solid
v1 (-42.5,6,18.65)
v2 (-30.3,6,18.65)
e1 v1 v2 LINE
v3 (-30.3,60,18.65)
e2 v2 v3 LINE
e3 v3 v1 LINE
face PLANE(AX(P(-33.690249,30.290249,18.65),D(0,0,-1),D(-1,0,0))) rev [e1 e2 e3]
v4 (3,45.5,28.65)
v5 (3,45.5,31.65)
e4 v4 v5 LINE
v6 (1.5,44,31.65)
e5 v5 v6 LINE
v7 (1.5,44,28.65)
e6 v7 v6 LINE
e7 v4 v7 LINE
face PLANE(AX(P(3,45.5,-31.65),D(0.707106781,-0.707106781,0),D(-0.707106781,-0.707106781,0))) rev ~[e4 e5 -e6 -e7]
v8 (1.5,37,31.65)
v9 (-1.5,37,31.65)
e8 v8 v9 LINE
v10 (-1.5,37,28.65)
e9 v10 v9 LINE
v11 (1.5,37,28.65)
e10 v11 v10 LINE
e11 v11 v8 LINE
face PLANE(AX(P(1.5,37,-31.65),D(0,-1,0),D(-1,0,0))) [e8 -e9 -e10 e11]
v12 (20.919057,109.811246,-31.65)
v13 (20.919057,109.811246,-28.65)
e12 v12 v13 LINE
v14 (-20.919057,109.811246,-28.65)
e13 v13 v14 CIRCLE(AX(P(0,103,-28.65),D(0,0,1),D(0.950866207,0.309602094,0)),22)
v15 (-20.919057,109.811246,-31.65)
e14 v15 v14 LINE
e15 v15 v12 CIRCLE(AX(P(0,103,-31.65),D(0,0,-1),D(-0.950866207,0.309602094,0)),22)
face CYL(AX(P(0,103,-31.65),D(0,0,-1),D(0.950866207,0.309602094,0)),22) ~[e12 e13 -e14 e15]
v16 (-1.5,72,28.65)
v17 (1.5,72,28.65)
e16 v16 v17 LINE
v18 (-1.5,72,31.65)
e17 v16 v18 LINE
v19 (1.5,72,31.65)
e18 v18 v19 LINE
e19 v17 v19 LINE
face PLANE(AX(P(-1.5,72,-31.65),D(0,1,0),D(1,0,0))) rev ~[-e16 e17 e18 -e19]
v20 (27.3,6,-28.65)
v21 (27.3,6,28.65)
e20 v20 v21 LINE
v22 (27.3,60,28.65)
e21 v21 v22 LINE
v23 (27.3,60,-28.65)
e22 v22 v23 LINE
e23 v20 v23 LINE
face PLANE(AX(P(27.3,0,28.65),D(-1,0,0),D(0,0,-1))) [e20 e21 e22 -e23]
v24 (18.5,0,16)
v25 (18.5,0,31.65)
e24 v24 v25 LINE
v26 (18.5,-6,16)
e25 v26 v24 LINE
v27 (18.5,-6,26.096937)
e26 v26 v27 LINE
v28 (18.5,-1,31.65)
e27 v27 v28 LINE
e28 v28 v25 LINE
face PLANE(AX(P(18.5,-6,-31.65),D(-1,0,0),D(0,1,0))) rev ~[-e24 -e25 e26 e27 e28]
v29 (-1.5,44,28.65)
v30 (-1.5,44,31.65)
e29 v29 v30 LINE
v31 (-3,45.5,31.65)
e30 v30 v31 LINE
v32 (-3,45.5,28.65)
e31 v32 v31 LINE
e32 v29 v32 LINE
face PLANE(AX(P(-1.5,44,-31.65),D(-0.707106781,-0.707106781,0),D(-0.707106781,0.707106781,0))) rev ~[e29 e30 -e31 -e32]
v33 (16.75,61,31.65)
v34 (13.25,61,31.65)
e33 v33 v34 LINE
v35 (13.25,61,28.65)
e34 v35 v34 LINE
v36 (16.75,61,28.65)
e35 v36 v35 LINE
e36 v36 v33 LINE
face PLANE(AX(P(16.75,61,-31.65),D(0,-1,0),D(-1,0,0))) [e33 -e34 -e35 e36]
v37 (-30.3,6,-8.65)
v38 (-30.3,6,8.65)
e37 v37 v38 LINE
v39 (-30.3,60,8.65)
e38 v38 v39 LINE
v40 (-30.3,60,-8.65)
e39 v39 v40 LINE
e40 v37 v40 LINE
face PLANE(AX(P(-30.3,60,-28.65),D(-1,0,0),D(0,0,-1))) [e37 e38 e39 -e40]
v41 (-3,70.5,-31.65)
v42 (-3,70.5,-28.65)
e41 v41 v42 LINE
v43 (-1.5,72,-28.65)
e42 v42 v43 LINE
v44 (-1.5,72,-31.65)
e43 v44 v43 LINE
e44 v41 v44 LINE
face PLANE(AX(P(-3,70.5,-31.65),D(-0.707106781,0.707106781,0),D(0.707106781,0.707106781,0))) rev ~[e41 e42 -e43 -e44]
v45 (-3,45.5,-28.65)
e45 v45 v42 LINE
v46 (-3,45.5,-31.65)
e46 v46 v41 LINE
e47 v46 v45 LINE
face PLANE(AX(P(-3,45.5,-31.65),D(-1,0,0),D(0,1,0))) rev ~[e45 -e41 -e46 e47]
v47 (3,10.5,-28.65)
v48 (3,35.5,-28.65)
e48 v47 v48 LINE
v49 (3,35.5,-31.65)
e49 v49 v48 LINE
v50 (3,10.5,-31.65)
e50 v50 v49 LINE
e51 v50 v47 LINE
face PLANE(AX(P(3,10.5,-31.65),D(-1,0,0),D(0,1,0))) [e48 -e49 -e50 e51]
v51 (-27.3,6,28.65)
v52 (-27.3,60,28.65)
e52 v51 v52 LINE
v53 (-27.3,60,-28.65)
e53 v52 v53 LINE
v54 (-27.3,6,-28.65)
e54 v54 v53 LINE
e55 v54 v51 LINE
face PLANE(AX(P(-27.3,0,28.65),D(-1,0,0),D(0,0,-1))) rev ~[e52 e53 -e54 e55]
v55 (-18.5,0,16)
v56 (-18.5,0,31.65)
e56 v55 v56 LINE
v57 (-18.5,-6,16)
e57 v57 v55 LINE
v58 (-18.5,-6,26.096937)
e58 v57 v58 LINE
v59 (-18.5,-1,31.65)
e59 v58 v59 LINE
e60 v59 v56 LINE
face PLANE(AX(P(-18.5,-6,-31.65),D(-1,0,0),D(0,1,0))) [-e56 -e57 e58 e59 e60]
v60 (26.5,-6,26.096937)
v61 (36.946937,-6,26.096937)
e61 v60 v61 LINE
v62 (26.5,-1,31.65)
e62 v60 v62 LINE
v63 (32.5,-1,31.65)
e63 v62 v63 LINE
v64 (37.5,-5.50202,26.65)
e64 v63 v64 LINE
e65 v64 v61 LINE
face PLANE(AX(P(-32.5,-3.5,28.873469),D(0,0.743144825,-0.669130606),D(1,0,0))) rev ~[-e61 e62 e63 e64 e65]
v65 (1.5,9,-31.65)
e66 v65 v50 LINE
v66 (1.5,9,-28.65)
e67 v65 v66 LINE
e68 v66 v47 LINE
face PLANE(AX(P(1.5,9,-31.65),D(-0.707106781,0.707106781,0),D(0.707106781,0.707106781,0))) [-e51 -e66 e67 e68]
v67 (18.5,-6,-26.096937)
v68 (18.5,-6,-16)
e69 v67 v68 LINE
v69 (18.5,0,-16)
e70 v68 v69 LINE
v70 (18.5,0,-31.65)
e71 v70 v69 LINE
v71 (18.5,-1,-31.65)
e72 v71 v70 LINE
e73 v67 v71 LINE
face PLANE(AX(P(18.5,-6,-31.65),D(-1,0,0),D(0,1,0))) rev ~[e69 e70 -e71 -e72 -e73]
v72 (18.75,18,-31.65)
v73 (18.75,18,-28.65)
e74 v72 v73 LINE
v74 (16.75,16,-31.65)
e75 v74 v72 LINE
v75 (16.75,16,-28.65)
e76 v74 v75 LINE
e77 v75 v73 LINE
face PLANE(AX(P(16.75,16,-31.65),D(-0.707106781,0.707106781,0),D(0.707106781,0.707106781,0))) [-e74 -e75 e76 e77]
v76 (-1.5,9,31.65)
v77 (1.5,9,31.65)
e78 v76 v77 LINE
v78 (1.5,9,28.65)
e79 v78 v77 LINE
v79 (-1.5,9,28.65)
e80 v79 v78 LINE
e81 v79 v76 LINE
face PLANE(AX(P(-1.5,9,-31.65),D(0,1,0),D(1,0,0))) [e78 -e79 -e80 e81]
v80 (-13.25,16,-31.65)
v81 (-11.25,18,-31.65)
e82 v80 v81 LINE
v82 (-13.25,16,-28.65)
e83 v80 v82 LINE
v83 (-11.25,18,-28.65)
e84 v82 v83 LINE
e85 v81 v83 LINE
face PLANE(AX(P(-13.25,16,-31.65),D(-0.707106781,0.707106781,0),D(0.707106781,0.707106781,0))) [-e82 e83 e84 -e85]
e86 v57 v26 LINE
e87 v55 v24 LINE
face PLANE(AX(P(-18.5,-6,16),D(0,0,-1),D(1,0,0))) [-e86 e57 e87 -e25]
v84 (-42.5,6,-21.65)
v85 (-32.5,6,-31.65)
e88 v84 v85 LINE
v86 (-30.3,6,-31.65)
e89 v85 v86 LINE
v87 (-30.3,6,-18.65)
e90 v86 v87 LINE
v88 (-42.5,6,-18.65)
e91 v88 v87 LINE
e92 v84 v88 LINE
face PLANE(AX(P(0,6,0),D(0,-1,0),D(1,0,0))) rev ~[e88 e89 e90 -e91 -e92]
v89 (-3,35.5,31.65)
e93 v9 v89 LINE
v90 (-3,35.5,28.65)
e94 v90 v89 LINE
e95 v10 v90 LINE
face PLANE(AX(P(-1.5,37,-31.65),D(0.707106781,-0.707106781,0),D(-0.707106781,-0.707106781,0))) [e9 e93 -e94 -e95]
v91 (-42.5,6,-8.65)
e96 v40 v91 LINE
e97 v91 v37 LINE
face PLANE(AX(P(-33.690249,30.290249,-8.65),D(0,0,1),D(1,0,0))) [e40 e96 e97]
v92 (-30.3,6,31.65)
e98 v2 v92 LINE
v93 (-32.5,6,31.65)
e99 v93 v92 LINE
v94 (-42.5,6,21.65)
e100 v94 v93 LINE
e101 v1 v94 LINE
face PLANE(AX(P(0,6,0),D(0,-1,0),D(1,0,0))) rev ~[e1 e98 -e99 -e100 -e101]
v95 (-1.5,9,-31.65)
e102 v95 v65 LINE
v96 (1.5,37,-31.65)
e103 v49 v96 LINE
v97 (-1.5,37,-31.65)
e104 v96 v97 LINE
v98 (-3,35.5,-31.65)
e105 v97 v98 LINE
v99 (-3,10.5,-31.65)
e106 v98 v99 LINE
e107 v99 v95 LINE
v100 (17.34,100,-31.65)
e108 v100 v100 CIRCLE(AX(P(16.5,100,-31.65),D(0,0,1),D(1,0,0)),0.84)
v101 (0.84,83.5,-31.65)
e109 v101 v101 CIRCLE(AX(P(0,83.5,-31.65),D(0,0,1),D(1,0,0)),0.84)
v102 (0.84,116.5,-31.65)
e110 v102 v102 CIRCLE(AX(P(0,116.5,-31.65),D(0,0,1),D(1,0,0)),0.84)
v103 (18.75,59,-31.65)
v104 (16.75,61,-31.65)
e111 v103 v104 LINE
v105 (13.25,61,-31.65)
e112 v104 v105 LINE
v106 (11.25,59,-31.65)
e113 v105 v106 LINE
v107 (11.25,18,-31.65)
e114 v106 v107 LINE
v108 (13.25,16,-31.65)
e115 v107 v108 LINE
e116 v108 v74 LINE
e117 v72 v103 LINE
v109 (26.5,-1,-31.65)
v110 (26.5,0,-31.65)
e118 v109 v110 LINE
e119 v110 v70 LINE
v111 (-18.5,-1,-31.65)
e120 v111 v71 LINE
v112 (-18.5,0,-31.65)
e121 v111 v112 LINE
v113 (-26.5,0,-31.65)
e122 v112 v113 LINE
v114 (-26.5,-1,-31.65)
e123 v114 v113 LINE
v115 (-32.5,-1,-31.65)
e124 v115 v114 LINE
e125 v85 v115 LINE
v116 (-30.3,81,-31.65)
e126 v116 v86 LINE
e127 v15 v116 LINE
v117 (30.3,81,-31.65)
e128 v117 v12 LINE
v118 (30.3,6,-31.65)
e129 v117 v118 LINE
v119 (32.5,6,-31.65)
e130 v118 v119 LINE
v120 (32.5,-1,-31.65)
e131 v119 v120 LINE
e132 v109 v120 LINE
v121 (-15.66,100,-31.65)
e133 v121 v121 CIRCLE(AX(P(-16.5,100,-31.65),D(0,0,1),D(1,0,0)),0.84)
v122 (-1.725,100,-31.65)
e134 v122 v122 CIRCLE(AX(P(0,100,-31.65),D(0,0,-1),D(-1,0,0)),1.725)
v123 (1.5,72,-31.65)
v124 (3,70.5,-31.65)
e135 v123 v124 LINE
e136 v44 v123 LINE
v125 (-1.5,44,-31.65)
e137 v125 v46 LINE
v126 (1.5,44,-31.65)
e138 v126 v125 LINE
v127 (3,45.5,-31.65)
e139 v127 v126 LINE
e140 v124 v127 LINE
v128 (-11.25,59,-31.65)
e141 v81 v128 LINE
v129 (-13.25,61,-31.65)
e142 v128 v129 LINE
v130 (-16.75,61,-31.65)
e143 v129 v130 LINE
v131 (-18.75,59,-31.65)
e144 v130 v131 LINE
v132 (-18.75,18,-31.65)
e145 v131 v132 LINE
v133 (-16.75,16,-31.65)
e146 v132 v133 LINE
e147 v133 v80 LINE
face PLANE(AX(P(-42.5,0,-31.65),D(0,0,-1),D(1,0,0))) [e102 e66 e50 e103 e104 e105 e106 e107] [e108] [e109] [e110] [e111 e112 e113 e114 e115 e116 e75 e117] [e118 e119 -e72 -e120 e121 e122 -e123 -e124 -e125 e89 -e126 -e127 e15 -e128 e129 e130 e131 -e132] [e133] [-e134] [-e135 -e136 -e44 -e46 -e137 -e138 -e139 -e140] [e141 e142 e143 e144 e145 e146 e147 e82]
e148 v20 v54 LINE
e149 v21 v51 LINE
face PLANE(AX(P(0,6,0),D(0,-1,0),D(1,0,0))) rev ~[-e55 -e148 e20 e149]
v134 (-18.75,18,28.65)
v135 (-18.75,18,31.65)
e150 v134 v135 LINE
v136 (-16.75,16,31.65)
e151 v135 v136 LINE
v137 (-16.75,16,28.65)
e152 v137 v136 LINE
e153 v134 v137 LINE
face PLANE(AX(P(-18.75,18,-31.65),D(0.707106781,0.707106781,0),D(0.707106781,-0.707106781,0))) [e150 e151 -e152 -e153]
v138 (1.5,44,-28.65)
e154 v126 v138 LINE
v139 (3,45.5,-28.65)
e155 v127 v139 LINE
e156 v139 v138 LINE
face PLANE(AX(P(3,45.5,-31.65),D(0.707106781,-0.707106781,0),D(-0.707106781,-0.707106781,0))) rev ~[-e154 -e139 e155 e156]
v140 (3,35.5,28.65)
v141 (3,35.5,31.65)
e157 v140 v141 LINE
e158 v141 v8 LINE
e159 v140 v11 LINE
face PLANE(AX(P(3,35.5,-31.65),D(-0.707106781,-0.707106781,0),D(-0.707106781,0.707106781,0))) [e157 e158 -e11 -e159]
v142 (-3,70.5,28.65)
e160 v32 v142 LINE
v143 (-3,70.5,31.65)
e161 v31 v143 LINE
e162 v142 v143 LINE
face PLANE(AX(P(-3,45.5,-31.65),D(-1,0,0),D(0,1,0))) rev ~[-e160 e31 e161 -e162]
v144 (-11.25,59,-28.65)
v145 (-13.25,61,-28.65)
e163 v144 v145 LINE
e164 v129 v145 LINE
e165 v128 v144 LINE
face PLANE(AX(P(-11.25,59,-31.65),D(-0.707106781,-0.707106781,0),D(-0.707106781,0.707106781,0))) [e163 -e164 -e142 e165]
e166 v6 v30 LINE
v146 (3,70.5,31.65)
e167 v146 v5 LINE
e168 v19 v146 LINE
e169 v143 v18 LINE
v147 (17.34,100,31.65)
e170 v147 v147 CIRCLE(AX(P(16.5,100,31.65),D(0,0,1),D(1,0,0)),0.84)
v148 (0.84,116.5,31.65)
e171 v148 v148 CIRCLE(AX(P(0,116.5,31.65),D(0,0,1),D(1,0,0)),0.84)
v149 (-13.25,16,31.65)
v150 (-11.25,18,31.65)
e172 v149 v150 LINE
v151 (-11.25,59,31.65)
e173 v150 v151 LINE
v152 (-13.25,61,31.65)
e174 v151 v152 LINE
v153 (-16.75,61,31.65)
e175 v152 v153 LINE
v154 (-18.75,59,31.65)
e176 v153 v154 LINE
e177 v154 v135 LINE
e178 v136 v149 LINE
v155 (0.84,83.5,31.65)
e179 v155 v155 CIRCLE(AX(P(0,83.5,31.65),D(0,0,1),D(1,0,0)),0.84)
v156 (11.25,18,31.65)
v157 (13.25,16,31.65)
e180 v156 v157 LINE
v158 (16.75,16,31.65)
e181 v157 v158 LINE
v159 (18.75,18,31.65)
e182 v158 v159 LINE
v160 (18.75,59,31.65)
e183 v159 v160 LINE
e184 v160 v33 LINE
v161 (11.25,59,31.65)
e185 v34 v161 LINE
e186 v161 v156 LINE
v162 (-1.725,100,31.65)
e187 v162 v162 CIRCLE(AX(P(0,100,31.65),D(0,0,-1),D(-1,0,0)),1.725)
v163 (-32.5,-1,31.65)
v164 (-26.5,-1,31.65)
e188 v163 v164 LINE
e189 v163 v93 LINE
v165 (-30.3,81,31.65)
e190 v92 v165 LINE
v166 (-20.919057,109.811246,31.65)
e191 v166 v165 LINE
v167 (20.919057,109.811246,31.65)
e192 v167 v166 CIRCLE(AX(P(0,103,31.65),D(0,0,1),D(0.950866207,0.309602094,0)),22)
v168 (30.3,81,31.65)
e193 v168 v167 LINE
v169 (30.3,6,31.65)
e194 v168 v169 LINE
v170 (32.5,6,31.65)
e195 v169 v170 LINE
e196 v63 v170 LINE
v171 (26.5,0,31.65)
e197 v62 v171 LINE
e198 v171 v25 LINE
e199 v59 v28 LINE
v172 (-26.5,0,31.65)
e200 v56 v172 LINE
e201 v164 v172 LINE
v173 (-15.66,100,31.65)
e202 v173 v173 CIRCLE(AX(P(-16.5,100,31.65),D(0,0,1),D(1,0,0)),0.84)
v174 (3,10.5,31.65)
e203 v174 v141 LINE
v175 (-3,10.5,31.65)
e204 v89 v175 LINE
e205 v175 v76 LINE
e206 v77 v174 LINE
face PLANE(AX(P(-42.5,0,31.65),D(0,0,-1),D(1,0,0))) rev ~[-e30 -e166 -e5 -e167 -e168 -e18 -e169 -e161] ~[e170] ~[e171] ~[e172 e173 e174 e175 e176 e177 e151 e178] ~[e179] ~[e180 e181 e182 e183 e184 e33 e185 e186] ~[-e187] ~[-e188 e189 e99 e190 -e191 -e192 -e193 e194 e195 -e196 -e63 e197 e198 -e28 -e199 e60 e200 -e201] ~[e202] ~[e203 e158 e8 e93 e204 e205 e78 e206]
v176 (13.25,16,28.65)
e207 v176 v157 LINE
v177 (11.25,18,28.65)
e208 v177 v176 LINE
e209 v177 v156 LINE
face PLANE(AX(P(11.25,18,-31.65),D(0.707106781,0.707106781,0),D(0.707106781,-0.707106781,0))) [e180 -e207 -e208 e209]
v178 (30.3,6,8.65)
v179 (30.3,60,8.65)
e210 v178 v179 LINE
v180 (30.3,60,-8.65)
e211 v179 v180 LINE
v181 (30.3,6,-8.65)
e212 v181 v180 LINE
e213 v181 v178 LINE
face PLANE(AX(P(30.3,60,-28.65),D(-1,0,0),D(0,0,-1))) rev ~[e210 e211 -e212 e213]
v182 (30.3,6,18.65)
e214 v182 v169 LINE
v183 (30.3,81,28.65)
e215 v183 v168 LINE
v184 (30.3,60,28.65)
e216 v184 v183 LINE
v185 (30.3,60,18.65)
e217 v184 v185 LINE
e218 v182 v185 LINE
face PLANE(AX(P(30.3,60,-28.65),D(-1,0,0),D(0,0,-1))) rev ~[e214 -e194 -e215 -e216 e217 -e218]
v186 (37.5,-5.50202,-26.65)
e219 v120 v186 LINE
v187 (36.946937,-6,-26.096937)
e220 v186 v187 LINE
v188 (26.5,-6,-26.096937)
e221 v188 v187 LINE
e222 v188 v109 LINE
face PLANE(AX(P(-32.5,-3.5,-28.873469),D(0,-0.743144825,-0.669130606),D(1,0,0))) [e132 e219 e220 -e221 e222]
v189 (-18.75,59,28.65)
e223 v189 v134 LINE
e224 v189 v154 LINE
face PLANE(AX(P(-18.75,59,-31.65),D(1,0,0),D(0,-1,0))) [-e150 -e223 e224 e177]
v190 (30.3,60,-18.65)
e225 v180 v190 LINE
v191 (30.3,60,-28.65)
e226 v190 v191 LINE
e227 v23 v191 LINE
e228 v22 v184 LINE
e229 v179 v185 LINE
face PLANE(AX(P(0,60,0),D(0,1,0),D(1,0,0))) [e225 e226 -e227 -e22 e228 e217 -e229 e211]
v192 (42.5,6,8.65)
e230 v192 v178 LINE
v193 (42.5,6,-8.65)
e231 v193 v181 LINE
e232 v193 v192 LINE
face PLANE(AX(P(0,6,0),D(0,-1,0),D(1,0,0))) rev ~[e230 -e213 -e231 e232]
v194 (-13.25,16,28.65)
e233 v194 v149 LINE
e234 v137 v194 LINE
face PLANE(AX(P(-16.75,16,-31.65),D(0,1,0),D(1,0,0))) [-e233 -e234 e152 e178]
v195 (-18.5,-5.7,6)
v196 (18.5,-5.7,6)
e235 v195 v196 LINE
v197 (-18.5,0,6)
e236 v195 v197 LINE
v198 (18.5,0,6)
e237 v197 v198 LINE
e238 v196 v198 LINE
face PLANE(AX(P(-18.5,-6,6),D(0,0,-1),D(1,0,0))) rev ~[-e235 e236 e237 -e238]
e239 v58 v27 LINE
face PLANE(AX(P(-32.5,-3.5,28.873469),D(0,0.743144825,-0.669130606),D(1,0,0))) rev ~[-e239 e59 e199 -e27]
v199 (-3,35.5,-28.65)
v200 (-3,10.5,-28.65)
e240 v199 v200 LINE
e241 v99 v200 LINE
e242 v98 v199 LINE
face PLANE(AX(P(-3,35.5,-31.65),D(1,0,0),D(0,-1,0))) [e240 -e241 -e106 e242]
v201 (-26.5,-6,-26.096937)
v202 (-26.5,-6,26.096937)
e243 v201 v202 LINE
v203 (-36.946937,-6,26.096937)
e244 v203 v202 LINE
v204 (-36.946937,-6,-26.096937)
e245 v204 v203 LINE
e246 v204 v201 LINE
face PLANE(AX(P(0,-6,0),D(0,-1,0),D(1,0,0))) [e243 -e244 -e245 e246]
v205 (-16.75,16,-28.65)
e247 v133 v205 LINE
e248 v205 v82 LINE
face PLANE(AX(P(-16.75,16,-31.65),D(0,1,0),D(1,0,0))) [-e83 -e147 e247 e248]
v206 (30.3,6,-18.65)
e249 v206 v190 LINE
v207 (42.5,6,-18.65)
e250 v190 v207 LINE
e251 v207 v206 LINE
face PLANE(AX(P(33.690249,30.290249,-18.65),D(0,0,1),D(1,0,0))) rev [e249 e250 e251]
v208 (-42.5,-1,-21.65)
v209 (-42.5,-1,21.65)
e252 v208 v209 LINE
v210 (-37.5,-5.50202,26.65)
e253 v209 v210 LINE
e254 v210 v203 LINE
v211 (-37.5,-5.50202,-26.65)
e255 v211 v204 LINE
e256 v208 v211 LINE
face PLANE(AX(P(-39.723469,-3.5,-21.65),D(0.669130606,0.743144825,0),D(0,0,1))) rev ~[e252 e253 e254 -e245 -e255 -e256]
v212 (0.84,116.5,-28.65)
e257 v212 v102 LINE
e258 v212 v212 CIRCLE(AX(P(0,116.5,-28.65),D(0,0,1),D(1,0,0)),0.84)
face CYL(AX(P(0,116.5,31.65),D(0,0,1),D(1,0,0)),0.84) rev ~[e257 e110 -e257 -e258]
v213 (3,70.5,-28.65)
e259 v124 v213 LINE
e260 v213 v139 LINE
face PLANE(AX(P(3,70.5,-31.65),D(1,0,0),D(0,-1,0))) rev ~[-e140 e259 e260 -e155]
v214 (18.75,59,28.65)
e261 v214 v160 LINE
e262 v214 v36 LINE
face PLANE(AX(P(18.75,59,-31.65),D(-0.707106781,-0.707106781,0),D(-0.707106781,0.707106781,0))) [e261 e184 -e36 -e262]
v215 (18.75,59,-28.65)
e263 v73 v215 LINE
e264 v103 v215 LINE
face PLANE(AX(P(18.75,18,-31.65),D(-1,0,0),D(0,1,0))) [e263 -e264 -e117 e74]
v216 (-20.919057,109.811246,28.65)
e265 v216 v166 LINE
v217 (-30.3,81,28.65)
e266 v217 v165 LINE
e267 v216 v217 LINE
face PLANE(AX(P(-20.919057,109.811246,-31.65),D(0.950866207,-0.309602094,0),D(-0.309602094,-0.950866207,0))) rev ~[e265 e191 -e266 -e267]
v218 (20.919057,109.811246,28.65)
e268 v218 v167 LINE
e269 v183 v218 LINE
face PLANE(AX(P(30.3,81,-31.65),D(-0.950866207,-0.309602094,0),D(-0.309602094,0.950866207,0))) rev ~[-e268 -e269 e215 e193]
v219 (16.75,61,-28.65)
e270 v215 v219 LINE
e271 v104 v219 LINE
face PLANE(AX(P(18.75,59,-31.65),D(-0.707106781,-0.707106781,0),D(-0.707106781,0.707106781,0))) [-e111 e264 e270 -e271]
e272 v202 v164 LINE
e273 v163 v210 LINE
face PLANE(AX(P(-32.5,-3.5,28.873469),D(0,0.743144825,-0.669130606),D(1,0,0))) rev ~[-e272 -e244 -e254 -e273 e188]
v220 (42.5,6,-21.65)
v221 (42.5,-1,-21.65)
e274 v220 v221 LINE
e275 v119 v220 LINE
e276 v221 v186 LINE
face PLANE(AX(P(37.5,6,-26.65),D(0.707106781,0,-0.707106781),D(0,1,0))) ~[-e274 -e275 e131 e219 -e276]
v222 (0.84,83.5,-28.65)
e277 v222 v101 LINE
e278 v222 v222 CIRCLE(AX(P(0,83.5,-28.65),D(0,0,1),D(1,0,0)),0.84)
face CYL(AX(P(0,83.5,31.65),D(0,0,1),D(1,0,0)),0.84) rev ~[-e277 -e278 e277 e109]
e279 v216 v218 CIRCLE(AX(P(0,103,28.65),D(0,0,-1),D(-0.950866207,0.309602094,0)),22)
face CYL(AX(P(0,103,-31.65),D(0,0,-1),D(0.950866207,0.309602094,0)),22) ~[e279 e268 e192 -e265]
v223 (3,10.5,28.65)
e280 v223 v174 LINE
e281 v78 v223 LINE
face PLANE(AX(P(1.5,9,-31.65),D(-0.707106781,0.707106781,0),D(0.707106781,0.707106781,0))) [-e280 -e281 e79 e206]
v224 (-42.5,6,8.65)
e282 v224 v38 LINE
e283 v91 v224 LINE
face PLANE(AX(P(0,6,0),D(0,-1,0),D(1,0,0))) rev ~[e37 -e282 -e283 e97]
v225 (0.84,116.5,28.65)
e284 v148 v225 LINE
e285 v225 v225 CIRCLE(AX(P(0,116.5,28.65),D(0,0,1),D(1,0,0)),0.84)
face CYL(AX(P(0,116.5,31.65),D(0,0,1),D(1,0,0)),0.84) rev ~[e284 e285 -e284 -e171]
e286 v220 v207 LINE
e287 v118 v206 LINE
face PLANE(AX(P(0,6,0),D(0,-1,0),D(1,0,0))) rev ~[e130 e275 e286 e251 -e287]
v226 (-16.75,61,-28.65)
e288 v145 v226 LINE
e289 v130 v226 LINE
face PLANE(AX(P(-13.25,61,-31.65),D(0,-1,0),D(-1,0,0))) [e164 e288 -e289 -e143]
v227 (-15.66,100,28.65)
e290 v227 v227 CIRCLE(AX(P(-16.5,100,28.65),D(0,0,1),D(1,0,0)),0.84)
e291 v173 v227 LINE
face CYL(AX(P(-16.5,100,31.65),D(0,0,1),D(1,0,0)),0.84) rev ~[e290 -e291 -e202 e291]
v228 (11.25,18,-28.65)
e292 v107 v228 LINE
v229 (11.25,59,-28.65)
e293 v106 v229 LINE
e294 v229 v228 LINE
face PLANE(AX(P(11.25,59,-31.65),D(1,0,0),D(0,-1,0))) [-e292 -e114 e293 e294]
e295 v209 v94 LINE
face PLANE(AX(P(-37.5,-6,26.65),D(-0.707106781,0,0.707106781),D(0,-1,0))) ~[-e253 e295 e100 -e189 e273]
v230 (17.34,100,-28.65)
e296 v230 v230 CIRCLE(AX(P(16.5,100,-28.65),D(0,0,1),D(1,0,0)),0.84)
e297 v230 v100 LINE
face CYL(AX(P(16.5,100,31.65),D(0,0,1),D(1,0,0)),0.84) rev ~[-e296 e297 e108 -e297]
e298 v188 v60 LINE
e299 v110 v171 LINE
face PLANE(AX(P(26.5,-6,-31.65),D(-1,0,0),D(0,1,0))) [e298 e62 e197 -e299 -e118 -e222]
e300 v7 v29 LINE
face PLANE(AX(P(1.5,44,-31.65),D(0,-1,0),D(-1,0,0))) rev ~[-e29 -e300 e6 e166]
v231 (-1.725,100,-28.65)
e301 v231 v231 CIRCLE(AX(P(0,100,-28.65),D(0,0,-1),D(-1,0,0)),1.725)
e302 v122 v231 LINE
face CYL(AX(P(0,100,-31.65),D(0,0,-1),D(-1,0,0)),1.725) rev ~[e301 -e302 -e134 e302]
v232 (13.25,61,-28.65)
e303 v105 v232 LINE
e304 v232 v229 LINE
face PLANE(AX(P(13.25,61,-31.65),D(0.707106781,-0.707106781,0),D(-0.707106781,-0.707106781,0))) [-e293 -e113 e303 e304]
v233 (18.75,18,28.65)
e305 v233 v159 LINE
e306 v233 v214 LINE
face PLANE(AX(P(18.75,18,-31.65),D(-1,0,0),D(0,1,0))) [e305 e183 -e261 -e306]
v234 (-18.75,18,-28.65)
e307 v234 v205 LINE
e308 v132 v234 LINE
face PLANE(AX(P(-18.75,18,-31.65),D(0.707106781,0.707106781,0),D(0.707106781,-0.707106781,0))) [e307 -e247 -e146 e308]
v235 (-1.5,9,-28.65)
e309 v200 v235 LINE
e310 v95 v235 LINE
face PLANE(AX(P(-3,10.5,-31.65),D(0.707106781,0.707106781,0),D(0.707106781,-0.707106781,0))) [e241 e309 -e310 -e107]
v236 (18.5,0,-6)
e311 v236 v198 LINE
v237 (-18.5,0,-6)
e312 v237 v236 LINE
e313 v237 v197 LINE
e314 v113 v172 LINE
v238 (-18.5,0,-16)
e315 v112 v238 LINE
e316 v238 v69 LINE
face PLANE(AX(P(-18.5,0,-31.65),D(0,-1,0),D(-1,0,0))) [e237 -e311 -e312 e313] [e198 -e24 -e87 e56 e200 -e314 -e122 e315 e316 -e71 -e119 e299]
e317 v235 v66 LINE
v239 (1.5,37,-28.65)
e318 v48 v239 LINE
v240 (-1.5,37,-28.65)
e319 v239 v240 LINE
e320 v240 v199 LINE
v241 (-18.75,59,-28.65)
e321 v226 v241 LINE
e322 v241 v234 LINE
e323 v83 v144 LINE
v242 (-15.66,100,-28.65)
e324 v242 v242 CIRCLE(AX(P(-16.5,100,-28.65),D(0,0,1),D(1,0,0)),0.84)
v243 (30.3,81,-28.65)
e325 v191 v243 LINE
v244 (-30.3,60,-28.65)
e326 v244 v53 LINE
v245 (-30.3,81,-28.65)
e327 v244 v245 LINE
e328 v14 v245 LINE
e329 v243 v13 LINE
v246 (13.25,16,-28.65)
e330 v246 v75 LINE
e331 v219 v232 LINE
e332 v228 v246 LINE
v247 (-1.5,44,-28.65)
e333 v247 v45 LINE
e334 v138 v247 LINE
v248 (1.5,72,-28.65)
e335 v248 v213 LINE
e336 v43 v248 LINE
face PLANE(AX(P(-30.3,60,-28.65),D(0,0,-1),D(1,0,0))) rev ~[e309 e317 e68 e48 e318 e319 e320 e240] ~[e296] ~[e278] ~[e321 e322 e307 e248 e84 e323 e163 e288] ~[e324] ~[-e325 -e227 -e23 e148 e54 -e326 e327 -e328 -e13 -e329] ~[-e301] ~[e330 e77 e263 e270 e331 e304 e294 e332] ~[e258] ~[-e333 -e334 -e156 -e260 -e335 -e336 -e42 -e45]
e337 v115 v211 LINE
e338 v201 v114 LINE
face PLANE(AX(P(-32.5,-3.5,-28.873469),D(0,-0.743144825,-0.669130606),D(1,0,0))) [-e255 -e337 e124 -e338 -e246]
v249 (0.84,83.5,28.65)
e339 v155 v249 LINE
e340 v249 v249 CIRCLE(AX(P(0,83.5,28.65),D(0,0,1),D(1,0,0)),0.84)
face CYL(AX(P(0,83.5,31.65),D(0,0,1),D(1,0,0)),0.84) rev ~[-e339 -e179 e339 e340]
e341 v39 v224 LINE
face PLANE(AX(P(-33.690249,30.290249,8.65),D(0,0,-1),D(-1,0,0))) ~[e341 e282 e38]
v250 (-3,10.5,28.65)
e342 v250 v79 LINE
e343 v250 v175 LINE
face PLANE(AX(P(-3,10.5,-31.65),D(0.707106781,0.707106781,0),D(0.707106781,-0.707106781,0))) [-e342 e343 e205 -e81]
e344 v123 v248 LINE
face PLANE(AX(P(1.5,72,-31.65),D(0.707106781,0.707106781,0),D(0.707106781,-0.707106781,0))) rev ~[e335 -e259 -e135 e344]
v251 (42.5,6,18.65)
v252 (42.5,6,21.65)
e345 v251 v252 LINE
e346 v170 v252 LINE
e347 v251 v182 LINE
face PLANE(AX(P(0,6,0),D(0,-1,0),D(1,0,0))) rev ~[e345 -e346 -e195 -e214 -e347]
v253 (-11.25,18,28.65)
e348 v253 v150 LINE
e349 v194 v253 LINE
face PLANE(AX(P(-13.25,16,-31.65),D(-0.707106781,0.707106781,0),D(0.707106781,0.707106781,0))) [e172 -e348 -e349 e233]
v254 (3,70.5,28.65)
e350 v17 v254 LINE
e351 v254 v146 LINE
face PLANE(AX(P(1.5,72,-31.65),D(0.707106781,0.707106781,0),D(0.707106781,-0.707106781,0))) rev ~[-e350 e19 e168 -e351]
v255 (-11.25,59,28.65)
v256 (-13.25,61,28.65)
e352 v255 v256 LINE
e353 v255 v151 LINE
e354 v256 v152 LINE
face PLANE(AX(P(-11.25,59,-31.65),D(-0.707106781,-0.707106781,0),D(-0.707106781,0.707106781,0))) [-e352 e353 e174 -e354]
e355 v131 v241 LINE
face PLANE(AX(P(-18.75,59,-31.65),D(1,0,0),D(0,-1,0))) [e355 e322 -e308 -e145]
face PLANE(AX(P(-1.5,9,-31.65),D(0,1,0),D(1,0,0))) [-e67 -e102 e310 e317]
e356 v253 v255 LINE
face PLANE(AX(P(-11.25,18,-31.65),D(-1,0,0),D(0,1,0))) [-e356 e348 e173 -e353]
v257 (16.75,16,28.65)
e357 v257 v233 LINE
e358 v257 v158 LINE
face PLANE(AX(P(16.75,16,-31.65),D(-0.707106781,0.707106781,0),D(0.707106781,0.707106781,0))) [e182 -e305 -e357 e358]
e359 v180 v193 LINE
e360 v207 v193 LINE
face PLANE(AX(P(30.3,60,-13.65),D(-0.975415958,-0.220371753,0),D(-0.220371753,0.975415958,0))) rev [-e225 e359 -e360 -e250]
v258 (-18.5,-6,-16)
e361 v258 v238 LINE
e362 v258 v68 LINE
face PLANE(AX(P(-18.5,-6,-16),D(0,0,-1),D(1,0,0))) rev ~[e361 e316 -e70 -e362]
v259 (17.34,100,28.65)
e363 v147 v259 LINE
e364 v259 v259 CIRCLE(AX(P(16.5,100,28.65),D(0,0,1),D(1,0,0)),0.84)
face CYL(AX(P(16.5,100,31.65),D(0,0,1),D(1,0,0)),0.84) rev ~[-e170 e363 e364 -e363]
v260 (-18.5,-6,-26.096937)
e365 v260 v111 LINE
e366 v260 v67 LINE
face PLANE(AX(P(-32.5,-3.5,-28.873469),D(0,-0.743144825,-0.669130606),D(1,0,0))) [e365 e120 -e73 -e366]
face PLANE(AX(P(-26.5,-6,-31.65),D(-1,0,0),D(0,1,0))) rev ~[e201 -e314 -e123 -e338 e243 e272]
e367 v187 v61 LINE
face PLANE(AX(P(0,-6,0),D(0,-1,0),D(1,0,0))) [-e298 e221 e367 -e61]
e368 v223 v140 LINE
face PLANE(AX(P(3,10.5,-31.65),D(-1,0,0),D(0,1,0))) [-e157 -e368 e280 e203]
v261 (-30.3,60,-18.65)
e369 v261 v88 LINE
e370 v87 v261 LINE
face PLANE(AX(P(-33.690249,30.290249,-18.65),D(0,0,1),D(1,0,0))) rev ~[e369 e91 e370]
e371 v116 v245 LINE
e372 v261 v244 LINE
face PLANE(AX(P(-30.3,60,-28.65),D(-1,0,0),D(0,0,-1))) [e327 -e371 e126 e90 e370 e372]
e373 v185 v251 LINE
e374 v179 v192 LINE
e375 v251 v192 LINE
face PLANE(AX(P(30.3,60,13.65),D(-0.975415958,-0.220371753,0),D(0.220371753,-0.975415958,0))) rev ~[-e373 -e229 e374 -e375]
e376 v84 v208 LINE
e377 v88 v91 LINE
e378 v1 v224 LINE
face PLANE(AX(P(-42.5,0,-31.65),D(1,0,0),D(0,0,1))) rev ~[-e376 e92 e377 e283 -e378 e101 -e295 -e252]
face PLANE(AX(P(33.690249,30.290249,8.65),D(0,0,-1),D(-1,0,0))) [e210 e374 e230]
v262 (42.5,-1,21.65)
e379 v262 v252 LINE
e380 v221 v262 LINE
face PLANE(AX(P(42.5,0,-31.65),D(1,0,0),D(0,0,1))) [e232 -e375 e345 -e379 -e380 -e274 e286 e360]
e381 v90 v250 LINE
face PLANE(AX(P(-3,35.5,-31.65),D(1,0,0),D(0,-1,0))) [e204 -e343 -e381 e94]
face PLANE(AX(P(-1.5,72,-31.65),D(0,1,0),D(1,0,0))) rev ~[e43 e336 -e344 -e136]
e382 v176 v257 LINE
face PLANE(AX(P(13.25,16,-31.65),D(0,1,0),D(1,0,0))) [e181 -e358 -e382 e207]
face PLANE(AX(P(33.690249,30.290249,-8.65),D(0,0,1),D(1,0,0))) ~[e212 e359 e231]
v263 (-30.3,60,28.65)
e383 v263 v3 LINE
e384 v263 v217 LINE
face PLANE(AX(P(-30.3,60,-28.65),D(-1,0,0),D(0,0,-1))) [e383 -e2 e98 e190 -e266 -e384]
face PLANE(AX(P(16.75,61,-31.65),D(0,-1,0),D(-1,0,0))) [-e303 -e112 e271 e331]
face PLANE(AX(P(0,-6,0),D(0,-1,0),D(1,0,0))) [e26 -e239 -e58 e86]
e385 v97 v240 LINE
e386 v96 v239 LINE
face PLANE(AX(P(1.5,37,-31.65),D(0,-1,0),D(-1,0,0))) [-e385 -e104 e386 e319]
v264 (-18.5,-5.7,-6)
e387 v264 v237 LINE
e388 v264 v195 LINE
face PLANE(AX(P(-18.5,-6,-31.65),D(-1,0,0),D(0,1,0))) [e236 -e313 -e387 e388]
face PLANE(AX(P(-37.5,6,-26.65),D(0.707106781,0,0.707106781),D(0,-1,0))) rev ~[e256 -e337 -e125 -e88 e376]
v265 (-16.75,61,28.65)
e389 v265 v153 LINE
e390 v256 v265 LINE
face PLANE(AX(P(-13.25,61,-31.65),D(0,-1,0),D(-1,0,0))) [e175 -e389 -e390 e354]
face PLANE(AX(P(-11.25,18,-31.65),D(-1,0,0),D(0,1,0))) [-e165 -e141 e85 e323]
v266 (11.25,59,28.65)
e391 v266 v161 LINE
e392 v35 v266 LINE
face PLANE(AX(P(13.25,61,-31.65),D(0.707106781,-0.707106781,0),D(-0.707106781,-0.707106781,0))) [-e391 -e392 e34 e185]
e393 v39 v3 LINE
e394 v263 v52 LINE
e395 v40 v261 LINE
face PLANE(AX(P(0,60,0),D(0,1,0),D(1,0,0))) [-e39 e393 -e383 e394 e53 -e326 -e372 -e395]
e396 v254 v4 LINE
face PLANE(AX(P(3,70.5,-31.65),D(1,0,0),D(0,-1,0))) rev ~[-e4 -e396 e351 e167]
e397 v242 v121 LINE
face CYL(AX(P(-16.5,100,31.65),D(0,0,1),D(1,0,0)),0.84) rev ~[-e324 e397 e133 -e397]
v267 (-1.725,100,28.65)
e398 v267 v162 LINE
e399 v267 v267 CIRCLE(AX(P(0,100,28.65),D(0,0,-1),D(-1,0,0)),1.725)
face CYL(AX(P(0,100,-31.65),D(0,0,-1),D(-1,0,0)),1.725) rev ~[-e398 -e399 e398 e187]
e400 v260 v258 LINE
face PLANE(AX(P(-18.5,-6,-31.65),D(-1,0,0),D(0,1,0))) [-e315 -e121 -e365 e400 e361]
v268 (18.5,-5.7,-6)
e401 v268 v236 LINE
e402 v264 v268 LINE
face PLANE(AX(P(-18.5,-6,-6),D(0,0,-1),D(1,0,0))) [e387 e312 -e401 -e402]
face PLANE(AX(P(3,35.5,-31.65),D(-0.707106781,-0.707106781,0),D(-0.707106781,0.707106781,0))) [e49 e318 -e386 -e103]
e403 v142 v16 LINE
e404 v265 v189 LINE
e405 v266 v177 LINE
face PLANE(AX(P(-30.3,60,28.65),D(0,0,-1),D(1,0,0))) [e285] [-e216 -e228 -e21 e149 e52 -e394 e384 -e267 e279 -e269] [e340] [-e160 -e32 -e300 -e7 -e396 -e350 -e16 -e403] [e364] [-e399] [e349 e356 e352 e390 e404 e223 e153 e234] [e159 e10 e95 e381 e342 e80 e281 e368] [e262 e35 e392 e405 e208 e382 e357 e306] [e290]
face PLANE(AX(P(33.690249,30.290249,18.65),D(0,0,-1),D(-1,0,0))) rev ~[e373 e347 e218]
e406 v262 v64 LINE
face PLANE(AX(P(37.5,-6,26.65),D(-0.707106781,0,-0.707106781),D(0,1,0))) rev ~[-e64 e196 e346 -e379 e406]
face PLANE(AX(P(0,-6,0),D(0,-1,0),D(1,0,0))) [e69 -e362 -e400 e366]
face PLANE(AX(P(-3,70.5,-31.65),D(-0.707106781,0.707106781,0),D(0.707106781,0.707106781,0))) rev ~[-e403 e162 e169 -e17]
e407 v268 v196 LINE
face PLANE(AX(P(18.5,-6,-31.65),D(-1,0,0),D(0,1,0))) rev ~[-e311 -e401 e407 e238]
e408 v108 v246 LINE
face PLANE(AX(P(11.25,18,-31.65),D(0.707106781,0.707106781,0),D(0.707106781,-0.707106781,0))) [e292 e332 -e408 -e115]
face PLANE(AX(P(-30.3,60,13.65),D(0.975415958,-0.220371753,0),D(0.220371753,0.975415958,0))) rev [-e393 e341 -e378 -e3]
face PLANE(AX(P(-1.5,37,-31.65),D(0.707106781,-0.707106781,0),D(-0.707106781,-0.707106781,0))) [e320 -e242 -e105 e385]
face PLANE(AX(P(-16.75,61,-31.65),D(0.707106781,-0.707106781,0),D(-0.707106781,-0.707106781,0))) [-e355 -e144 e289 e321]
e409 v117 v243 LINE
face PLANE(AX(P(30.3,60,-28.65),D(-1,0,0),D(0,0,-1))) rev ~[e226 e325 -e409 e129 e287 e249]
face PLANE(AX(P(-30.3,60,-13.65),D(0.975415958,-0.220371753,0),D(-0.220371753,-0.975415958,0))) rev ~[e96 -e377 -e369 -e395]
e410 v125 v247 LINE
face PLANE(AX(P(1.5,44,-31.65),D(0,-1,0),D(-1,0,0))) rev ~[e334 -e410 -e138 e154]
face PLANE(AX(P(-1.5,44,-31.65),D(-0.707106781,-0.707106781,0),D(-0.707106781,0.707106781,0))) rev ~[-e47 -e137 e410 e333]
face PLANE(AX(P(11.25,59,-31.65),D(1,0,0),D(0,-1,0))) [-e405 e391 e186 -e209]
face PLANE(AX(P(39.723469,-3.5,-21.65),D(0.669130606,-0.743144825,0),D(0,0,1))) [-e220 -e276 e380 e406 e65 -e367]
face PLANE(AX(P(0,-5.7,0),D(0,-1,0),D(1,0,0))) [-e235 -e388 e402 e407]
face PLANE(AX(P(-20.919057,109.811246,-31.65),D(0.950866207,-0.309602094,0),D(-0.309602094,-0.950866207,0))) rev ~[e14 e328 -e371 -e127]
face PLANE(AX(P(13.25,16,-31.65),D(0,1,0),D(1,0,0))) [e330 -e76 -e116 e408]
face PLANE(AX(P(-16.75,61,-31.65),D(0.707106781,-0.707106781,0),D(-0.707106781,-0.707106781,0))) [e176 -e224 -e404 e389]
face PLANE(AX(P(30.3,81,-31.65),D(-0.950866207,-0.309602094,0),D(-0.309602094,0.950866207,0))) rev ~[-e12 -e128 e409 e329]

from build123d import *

# Parameters (mm, degrees)
SKETCH_1_W             = 60.6
SKETCH_1_H             = 63.3
SKETCH_1_W_2           = 54.6
SKETCH_1_H_2           = 57.3
EXTRUDE_1_DEPTH        = 60
SKETCH_2_W             = 60.6
SKETCH_2_H             = 3
EXTRUDE_2_DEPTH        = 65
CUT_EXTRUDE_1_DEPTH    = 65
SKETCH_9_R             = 1.725
CUT_EXTRUDE_4_DEPTH    = 80
SKETCH_10_W            = 85
SKETCH_10_H            = 63.3
EXTRUDE_3_DEPTH        = 6
CHAMFER_1_SIZE         = 10
CHAMFER_2_SIZE         = 5
CHAMFER_2_SIZE2        = 5.553062574
CHAMFER_2_PART_2_SIZE  = 5
CHAMFER_2_PART_2_SIZE2 = 5.553062574
CHAMFER_2_PART_3_SIZE  = 5
CHAMFER_2_PART_3_SIZE2 = 5.553062574
CHAMFER_2_PART_4_SIZE  = 5
CHAMFER_2_PART_4_SIZE2 = 5.553062574
SKETCH_12_W            = 8
SKETCH_12_H            = 6
CUT_EXTRUDE_5_DEPTH    = 80
SKETCH_13_W            = 37
SKETCH_13_H            = 10
CUT_EXTRUDE_7_DEPTH    = 6
SKETCH_14_W            = 37
SKETCH_14_H            = 12
CUT_EXTRUDE_8_DEPTH    = 0.3
EXTRUDE_4_DEPTH        = 5
MIRROR_2_COPY_1_DEPTH  = 5
SKETCH_8_R             = 0.84
CUT_EXTRUDE_9_DEPTH    = 80
CUT_EXTRUDE_10_DEPTH   = 80


with BuildPart() as part:
    # 草图1 → 凸台-拉伸1 (new body)
    with BuildSketch(Plane(origin=(0, 0, 0), x_dir=(1, 0, 0), z_dir=(0, 1, 0))):
        Rectangle(SKETCH_1_W, SKETCH_1_H)
        Rectangle(SKETCH_1_W_2, SKETCH_1_H_2, mode=Mode.SUBTRACT)
    extrude(amount=EXTRUDE_1_DEPTH)

    # 草图2 → 凸台-拉伸2 (add)
    with BuildSketch(Plane(origin=(0, 60, 0), x_dir=(1, 0, 0), z_dir=(0, 1, 0))):
        with Locations((0, 30.15)):
            Rectangle(SKETCH_2_W, SKETCH_2_H)
        with Locations((0, -30.15)):
            Rectangle(SKETCH_2_W, SKETCH_2_H)
    extrude(amount=EXTRUDE_2_DEPTH)

    # 草图3 → 切除-拉伸1 (cut)
    with BuildSketch(Plane(origin=(0, 0, -31.65), x_dir=(-1, 0, 0), z_dir=(0, 0, -1))):
        with BuildLine():
            Line((-30.3, 81), (-20.919056551, 109.811246068))
            ThreePointArc((-20.919056551, 109.811246068), (0, 125), (20.919056551, 109.811246068))
            Line((20.919056551, 109.811246068), (30.3, 81))
            Line((30.3, 81), (30.3, 183))
            Line((30.3, 183), (-30.3, 125))
            Line((-30.3, 125), (-30.3, 81))
        make_face()
    extrude(amount=-CUT_EXTRUDE_1_DEPTH, mode=Mode.SUBTRACT)

    # 草图9 → 切除-拉伸4 (cut)
    with BuildSketch(Plane(origin=(0, 0, -31.65), x_dir=(-1, 0, 0), z_dir=(0, 0, -1))):
        with Locations((0, 100)):
            Circle(SKETCH_9_R)
    extrude(amount=-CUT_EXTRUDE_4_DEPTH, mode=Mode.SUBTRACT)

    # 草图10 → 凸台-拉伸3 (add, symmetric)
    with BuildSketch(Plane.XZ):
        Rectangle(SKETCH_10_W, SKETCH_10_H)
    extrude(amount=EXTRUDE_3_DEPTH, both=True)

    # 倒角1
    chamfer_1_edges = [part.edges().sort_by_distance(p)[0] for p in [
        (42.5, 0, 31.65),
        (-42.5, 0, -31.65),
        (42.5, 0, -31.65),
        (-42.5, 0, 31.65),
    ]]
    chamfer(chamfer_1_edges, length=CHAMFER_1_SIZE)

    # 倒角2
    chamfer_2_edges = [part.edges().sort_by_distance(p)[0] for p in [
        (42.5, -6, 0),
    ]]
    chamfer_2_side = [part.faces().sort_by_distance(p)[0] for p in [
        (42.5, 0, 0),
    ]]
    chamfer(chamfer_2_edges, length=CHAMFER_2_SIZE, length2=CHAMFER_2_SIZE2, reference=chamfer_2_side[0])

    # 倒角2 part 2
    chamfer_2_part_2_edges = [part.edges().sort_by_distance(p)[0] for p in [
        (-42.5, -6, 0),
    ]]
    chamfer_2_part_2_side = [part.faces().sort_by_distance(p)[0] for p in [
        (-42.5, 0, 0),
    ]]
    chamfer(chamfer_2_part_2_edges, length=CHAMFER_2_PART_2_SIZE, length2=CHAMFER_2_PART_2_SIZE2, reference=chamfer_2_part_2_side[0])

    # 倒角2 part 3
    chamfer_2_part_3_edges = [part.edges().sort_by_distance(p)[0] for p in [
        (0, -6, -31.65),
    ]]
    chamfer_2_part_3_side = [part.faces().sort_by_distance(p)[0] for p in [
        (0, 53.785060823, -31.65),
    ]]
    chamfer(chamfer_2_part_3_edges, length=CHAMFER_2_PART_3_SIZE, length2=CHAMFER_2_PART_3_SIZE2, reference=chamfer_2_part_3_side[0])

    # 倒角2 part 4
    chamfer_2_part_4_edges = [part.edges().sort_by_distance(p)[0] for p in [
        (0, -6, 31.65),
    ]]
    chamfer_2_part_4_side = [part.faces().sort_by_distance(p)[0] for p in [
        (0, 53.785060823, 31.65),
    ]]
    chamfer(chamfer_2_part_4_edges, length=CHAMFER_2_PART_4_SIZE, length2=CHAMFER_2_PART_4_SIZE2, reference=chamfer_2_part_4_side[0])

    # 草图12 → 切除-拉伸5 (cut)
    with BuildSketch(Plane(origin=(0, 0, -31.65), x_dir=(-1, 0, 0), z_dir=(0, 0, -1))):
        with Locations((-22.5, -3)):
            Rectangle(SKETCH_12_W, SKETCH_12_H)
        with Locations((22.5, -3)):
            Rectangle(SKETCH_12_W, SKETCH_12_H)
    extrude(amount=-CUT_EXTRUDE_5_DEPTH, mode=Mode.SUBTRACT)

    # 草图13 → 切除-拉伸7 (cut)
    with BuildSketch(Plane.XZ.offset(6)):
        with Locations((0, 11)):
            Rectangle(SKETCH_13_W, SKETCH_13_H)
        with Locations((0, -11)):
            Rectangle(SKETCH_13_W, SKETCH_13_H)
    extrude(amount=-CUT_EXTRUDE_7_DEPTH, mode=Mode.SUBTRACT)

    # 草图14 → 切除-拉伸8 (cut)
    with BuildSketch(Plane.XZ.offset(6)):
        Rectangle(SKETCH_14_W, SKETCH_14_H)
    extrude(amount=-CUT_EXTRUDE_8_DEPTH, mode=Mode.SUBTRACT)

    # 草图18 → 凸台-拉伸4 (add, symmetric)
    with BuildSketch(Plane(origin=(0, 0, -13.65), x_dir=(-1, 0, 0), z_dir=(0, 0, -1))):
        Polygon((30.3, 60), (42.5, 6), (30.3, 6), align=None)
    extrude_4 = extrude(amount=EXTRUDE_4_DEPTH, both=True)

    # 镜向1: 凸台-拉伸4 across plane
    add(extrude_4.mirror(Plane.XY))

    # 镜向2: 凸台-拉伸4 across plane
    add(extrude_4.mirror(Plane(origin=(0, 0, 0), x_dir=(0, 0, 1), z_dir=(1, 0, 0))))

    # 镜向2 copy 1 sketch → 镜向2 copy 1 (add, symmetric)
    with BuildSketch(Plane.XY.offset(13.65)):
        Polygon((30.3, 60), (42.5, 6), (30.3, 6), align=None)
    extrude(amount=MIRROR_2_COPY_1_DEPTH, both=True)

    # 草图8 → 切除-拉伸9 (cut)
    with BuildSketch(Plane.XY.offset(31.65)):
        with Locations((0, 116.5)):
            Circle(SKETCH_8_R)
        with Locations((16.5, 100)):
            Circle(SKETCH_8_R)
        with Locations((0, 83.5)):
            Circle(SKETCH_8_R)
        with Locations((-16.5, 100)):
            Circle(SKETCH_8_R)
    extrude(amount=-CUT_EXTRUDE_9_DEPTH, mode=Mode.SUBTRACT)

    # 草图19 → 切除-拉伸10 (cut)
    with BuildSketch(Plane(origin=(0, 0, -31.65), x_dir=(-1, 0, 0), z_dir=(0, 0, -1))):
        Polygon((-1.5, 44), (1.5, 44), (3, 45.5), (3, 70.5), (1.5, 72), (-1.5, 72), (-3, 70.5), (-3, 45.5), align=None)
        Polygon((-16.75, 61), (-13.25, 61), (-11.25, 59), (-11.25, 18), (-13.25, 16), (-16.75, 16), (-18.75, 18), (-18.75, 59), align=None)
        Polygon((-3, 10.5), (-3, 35.5), (-1.5, 37), (1.5, 37), (3, 35.5), (3, 10.5), (1.5, 9), (-1.5, 9), align=None)
        Polygon((13.25, 16), (11.25, 18), (11.25, 59), (13.25, 61), (16.75, 61), (18.75, 59), (18.75, 18), (16.75, 16), align=None)
    extrude(amount=-CUT_EXTRUDE_10_DEPTH, mode=Mode.SUBTRACT)


solid = part.part
